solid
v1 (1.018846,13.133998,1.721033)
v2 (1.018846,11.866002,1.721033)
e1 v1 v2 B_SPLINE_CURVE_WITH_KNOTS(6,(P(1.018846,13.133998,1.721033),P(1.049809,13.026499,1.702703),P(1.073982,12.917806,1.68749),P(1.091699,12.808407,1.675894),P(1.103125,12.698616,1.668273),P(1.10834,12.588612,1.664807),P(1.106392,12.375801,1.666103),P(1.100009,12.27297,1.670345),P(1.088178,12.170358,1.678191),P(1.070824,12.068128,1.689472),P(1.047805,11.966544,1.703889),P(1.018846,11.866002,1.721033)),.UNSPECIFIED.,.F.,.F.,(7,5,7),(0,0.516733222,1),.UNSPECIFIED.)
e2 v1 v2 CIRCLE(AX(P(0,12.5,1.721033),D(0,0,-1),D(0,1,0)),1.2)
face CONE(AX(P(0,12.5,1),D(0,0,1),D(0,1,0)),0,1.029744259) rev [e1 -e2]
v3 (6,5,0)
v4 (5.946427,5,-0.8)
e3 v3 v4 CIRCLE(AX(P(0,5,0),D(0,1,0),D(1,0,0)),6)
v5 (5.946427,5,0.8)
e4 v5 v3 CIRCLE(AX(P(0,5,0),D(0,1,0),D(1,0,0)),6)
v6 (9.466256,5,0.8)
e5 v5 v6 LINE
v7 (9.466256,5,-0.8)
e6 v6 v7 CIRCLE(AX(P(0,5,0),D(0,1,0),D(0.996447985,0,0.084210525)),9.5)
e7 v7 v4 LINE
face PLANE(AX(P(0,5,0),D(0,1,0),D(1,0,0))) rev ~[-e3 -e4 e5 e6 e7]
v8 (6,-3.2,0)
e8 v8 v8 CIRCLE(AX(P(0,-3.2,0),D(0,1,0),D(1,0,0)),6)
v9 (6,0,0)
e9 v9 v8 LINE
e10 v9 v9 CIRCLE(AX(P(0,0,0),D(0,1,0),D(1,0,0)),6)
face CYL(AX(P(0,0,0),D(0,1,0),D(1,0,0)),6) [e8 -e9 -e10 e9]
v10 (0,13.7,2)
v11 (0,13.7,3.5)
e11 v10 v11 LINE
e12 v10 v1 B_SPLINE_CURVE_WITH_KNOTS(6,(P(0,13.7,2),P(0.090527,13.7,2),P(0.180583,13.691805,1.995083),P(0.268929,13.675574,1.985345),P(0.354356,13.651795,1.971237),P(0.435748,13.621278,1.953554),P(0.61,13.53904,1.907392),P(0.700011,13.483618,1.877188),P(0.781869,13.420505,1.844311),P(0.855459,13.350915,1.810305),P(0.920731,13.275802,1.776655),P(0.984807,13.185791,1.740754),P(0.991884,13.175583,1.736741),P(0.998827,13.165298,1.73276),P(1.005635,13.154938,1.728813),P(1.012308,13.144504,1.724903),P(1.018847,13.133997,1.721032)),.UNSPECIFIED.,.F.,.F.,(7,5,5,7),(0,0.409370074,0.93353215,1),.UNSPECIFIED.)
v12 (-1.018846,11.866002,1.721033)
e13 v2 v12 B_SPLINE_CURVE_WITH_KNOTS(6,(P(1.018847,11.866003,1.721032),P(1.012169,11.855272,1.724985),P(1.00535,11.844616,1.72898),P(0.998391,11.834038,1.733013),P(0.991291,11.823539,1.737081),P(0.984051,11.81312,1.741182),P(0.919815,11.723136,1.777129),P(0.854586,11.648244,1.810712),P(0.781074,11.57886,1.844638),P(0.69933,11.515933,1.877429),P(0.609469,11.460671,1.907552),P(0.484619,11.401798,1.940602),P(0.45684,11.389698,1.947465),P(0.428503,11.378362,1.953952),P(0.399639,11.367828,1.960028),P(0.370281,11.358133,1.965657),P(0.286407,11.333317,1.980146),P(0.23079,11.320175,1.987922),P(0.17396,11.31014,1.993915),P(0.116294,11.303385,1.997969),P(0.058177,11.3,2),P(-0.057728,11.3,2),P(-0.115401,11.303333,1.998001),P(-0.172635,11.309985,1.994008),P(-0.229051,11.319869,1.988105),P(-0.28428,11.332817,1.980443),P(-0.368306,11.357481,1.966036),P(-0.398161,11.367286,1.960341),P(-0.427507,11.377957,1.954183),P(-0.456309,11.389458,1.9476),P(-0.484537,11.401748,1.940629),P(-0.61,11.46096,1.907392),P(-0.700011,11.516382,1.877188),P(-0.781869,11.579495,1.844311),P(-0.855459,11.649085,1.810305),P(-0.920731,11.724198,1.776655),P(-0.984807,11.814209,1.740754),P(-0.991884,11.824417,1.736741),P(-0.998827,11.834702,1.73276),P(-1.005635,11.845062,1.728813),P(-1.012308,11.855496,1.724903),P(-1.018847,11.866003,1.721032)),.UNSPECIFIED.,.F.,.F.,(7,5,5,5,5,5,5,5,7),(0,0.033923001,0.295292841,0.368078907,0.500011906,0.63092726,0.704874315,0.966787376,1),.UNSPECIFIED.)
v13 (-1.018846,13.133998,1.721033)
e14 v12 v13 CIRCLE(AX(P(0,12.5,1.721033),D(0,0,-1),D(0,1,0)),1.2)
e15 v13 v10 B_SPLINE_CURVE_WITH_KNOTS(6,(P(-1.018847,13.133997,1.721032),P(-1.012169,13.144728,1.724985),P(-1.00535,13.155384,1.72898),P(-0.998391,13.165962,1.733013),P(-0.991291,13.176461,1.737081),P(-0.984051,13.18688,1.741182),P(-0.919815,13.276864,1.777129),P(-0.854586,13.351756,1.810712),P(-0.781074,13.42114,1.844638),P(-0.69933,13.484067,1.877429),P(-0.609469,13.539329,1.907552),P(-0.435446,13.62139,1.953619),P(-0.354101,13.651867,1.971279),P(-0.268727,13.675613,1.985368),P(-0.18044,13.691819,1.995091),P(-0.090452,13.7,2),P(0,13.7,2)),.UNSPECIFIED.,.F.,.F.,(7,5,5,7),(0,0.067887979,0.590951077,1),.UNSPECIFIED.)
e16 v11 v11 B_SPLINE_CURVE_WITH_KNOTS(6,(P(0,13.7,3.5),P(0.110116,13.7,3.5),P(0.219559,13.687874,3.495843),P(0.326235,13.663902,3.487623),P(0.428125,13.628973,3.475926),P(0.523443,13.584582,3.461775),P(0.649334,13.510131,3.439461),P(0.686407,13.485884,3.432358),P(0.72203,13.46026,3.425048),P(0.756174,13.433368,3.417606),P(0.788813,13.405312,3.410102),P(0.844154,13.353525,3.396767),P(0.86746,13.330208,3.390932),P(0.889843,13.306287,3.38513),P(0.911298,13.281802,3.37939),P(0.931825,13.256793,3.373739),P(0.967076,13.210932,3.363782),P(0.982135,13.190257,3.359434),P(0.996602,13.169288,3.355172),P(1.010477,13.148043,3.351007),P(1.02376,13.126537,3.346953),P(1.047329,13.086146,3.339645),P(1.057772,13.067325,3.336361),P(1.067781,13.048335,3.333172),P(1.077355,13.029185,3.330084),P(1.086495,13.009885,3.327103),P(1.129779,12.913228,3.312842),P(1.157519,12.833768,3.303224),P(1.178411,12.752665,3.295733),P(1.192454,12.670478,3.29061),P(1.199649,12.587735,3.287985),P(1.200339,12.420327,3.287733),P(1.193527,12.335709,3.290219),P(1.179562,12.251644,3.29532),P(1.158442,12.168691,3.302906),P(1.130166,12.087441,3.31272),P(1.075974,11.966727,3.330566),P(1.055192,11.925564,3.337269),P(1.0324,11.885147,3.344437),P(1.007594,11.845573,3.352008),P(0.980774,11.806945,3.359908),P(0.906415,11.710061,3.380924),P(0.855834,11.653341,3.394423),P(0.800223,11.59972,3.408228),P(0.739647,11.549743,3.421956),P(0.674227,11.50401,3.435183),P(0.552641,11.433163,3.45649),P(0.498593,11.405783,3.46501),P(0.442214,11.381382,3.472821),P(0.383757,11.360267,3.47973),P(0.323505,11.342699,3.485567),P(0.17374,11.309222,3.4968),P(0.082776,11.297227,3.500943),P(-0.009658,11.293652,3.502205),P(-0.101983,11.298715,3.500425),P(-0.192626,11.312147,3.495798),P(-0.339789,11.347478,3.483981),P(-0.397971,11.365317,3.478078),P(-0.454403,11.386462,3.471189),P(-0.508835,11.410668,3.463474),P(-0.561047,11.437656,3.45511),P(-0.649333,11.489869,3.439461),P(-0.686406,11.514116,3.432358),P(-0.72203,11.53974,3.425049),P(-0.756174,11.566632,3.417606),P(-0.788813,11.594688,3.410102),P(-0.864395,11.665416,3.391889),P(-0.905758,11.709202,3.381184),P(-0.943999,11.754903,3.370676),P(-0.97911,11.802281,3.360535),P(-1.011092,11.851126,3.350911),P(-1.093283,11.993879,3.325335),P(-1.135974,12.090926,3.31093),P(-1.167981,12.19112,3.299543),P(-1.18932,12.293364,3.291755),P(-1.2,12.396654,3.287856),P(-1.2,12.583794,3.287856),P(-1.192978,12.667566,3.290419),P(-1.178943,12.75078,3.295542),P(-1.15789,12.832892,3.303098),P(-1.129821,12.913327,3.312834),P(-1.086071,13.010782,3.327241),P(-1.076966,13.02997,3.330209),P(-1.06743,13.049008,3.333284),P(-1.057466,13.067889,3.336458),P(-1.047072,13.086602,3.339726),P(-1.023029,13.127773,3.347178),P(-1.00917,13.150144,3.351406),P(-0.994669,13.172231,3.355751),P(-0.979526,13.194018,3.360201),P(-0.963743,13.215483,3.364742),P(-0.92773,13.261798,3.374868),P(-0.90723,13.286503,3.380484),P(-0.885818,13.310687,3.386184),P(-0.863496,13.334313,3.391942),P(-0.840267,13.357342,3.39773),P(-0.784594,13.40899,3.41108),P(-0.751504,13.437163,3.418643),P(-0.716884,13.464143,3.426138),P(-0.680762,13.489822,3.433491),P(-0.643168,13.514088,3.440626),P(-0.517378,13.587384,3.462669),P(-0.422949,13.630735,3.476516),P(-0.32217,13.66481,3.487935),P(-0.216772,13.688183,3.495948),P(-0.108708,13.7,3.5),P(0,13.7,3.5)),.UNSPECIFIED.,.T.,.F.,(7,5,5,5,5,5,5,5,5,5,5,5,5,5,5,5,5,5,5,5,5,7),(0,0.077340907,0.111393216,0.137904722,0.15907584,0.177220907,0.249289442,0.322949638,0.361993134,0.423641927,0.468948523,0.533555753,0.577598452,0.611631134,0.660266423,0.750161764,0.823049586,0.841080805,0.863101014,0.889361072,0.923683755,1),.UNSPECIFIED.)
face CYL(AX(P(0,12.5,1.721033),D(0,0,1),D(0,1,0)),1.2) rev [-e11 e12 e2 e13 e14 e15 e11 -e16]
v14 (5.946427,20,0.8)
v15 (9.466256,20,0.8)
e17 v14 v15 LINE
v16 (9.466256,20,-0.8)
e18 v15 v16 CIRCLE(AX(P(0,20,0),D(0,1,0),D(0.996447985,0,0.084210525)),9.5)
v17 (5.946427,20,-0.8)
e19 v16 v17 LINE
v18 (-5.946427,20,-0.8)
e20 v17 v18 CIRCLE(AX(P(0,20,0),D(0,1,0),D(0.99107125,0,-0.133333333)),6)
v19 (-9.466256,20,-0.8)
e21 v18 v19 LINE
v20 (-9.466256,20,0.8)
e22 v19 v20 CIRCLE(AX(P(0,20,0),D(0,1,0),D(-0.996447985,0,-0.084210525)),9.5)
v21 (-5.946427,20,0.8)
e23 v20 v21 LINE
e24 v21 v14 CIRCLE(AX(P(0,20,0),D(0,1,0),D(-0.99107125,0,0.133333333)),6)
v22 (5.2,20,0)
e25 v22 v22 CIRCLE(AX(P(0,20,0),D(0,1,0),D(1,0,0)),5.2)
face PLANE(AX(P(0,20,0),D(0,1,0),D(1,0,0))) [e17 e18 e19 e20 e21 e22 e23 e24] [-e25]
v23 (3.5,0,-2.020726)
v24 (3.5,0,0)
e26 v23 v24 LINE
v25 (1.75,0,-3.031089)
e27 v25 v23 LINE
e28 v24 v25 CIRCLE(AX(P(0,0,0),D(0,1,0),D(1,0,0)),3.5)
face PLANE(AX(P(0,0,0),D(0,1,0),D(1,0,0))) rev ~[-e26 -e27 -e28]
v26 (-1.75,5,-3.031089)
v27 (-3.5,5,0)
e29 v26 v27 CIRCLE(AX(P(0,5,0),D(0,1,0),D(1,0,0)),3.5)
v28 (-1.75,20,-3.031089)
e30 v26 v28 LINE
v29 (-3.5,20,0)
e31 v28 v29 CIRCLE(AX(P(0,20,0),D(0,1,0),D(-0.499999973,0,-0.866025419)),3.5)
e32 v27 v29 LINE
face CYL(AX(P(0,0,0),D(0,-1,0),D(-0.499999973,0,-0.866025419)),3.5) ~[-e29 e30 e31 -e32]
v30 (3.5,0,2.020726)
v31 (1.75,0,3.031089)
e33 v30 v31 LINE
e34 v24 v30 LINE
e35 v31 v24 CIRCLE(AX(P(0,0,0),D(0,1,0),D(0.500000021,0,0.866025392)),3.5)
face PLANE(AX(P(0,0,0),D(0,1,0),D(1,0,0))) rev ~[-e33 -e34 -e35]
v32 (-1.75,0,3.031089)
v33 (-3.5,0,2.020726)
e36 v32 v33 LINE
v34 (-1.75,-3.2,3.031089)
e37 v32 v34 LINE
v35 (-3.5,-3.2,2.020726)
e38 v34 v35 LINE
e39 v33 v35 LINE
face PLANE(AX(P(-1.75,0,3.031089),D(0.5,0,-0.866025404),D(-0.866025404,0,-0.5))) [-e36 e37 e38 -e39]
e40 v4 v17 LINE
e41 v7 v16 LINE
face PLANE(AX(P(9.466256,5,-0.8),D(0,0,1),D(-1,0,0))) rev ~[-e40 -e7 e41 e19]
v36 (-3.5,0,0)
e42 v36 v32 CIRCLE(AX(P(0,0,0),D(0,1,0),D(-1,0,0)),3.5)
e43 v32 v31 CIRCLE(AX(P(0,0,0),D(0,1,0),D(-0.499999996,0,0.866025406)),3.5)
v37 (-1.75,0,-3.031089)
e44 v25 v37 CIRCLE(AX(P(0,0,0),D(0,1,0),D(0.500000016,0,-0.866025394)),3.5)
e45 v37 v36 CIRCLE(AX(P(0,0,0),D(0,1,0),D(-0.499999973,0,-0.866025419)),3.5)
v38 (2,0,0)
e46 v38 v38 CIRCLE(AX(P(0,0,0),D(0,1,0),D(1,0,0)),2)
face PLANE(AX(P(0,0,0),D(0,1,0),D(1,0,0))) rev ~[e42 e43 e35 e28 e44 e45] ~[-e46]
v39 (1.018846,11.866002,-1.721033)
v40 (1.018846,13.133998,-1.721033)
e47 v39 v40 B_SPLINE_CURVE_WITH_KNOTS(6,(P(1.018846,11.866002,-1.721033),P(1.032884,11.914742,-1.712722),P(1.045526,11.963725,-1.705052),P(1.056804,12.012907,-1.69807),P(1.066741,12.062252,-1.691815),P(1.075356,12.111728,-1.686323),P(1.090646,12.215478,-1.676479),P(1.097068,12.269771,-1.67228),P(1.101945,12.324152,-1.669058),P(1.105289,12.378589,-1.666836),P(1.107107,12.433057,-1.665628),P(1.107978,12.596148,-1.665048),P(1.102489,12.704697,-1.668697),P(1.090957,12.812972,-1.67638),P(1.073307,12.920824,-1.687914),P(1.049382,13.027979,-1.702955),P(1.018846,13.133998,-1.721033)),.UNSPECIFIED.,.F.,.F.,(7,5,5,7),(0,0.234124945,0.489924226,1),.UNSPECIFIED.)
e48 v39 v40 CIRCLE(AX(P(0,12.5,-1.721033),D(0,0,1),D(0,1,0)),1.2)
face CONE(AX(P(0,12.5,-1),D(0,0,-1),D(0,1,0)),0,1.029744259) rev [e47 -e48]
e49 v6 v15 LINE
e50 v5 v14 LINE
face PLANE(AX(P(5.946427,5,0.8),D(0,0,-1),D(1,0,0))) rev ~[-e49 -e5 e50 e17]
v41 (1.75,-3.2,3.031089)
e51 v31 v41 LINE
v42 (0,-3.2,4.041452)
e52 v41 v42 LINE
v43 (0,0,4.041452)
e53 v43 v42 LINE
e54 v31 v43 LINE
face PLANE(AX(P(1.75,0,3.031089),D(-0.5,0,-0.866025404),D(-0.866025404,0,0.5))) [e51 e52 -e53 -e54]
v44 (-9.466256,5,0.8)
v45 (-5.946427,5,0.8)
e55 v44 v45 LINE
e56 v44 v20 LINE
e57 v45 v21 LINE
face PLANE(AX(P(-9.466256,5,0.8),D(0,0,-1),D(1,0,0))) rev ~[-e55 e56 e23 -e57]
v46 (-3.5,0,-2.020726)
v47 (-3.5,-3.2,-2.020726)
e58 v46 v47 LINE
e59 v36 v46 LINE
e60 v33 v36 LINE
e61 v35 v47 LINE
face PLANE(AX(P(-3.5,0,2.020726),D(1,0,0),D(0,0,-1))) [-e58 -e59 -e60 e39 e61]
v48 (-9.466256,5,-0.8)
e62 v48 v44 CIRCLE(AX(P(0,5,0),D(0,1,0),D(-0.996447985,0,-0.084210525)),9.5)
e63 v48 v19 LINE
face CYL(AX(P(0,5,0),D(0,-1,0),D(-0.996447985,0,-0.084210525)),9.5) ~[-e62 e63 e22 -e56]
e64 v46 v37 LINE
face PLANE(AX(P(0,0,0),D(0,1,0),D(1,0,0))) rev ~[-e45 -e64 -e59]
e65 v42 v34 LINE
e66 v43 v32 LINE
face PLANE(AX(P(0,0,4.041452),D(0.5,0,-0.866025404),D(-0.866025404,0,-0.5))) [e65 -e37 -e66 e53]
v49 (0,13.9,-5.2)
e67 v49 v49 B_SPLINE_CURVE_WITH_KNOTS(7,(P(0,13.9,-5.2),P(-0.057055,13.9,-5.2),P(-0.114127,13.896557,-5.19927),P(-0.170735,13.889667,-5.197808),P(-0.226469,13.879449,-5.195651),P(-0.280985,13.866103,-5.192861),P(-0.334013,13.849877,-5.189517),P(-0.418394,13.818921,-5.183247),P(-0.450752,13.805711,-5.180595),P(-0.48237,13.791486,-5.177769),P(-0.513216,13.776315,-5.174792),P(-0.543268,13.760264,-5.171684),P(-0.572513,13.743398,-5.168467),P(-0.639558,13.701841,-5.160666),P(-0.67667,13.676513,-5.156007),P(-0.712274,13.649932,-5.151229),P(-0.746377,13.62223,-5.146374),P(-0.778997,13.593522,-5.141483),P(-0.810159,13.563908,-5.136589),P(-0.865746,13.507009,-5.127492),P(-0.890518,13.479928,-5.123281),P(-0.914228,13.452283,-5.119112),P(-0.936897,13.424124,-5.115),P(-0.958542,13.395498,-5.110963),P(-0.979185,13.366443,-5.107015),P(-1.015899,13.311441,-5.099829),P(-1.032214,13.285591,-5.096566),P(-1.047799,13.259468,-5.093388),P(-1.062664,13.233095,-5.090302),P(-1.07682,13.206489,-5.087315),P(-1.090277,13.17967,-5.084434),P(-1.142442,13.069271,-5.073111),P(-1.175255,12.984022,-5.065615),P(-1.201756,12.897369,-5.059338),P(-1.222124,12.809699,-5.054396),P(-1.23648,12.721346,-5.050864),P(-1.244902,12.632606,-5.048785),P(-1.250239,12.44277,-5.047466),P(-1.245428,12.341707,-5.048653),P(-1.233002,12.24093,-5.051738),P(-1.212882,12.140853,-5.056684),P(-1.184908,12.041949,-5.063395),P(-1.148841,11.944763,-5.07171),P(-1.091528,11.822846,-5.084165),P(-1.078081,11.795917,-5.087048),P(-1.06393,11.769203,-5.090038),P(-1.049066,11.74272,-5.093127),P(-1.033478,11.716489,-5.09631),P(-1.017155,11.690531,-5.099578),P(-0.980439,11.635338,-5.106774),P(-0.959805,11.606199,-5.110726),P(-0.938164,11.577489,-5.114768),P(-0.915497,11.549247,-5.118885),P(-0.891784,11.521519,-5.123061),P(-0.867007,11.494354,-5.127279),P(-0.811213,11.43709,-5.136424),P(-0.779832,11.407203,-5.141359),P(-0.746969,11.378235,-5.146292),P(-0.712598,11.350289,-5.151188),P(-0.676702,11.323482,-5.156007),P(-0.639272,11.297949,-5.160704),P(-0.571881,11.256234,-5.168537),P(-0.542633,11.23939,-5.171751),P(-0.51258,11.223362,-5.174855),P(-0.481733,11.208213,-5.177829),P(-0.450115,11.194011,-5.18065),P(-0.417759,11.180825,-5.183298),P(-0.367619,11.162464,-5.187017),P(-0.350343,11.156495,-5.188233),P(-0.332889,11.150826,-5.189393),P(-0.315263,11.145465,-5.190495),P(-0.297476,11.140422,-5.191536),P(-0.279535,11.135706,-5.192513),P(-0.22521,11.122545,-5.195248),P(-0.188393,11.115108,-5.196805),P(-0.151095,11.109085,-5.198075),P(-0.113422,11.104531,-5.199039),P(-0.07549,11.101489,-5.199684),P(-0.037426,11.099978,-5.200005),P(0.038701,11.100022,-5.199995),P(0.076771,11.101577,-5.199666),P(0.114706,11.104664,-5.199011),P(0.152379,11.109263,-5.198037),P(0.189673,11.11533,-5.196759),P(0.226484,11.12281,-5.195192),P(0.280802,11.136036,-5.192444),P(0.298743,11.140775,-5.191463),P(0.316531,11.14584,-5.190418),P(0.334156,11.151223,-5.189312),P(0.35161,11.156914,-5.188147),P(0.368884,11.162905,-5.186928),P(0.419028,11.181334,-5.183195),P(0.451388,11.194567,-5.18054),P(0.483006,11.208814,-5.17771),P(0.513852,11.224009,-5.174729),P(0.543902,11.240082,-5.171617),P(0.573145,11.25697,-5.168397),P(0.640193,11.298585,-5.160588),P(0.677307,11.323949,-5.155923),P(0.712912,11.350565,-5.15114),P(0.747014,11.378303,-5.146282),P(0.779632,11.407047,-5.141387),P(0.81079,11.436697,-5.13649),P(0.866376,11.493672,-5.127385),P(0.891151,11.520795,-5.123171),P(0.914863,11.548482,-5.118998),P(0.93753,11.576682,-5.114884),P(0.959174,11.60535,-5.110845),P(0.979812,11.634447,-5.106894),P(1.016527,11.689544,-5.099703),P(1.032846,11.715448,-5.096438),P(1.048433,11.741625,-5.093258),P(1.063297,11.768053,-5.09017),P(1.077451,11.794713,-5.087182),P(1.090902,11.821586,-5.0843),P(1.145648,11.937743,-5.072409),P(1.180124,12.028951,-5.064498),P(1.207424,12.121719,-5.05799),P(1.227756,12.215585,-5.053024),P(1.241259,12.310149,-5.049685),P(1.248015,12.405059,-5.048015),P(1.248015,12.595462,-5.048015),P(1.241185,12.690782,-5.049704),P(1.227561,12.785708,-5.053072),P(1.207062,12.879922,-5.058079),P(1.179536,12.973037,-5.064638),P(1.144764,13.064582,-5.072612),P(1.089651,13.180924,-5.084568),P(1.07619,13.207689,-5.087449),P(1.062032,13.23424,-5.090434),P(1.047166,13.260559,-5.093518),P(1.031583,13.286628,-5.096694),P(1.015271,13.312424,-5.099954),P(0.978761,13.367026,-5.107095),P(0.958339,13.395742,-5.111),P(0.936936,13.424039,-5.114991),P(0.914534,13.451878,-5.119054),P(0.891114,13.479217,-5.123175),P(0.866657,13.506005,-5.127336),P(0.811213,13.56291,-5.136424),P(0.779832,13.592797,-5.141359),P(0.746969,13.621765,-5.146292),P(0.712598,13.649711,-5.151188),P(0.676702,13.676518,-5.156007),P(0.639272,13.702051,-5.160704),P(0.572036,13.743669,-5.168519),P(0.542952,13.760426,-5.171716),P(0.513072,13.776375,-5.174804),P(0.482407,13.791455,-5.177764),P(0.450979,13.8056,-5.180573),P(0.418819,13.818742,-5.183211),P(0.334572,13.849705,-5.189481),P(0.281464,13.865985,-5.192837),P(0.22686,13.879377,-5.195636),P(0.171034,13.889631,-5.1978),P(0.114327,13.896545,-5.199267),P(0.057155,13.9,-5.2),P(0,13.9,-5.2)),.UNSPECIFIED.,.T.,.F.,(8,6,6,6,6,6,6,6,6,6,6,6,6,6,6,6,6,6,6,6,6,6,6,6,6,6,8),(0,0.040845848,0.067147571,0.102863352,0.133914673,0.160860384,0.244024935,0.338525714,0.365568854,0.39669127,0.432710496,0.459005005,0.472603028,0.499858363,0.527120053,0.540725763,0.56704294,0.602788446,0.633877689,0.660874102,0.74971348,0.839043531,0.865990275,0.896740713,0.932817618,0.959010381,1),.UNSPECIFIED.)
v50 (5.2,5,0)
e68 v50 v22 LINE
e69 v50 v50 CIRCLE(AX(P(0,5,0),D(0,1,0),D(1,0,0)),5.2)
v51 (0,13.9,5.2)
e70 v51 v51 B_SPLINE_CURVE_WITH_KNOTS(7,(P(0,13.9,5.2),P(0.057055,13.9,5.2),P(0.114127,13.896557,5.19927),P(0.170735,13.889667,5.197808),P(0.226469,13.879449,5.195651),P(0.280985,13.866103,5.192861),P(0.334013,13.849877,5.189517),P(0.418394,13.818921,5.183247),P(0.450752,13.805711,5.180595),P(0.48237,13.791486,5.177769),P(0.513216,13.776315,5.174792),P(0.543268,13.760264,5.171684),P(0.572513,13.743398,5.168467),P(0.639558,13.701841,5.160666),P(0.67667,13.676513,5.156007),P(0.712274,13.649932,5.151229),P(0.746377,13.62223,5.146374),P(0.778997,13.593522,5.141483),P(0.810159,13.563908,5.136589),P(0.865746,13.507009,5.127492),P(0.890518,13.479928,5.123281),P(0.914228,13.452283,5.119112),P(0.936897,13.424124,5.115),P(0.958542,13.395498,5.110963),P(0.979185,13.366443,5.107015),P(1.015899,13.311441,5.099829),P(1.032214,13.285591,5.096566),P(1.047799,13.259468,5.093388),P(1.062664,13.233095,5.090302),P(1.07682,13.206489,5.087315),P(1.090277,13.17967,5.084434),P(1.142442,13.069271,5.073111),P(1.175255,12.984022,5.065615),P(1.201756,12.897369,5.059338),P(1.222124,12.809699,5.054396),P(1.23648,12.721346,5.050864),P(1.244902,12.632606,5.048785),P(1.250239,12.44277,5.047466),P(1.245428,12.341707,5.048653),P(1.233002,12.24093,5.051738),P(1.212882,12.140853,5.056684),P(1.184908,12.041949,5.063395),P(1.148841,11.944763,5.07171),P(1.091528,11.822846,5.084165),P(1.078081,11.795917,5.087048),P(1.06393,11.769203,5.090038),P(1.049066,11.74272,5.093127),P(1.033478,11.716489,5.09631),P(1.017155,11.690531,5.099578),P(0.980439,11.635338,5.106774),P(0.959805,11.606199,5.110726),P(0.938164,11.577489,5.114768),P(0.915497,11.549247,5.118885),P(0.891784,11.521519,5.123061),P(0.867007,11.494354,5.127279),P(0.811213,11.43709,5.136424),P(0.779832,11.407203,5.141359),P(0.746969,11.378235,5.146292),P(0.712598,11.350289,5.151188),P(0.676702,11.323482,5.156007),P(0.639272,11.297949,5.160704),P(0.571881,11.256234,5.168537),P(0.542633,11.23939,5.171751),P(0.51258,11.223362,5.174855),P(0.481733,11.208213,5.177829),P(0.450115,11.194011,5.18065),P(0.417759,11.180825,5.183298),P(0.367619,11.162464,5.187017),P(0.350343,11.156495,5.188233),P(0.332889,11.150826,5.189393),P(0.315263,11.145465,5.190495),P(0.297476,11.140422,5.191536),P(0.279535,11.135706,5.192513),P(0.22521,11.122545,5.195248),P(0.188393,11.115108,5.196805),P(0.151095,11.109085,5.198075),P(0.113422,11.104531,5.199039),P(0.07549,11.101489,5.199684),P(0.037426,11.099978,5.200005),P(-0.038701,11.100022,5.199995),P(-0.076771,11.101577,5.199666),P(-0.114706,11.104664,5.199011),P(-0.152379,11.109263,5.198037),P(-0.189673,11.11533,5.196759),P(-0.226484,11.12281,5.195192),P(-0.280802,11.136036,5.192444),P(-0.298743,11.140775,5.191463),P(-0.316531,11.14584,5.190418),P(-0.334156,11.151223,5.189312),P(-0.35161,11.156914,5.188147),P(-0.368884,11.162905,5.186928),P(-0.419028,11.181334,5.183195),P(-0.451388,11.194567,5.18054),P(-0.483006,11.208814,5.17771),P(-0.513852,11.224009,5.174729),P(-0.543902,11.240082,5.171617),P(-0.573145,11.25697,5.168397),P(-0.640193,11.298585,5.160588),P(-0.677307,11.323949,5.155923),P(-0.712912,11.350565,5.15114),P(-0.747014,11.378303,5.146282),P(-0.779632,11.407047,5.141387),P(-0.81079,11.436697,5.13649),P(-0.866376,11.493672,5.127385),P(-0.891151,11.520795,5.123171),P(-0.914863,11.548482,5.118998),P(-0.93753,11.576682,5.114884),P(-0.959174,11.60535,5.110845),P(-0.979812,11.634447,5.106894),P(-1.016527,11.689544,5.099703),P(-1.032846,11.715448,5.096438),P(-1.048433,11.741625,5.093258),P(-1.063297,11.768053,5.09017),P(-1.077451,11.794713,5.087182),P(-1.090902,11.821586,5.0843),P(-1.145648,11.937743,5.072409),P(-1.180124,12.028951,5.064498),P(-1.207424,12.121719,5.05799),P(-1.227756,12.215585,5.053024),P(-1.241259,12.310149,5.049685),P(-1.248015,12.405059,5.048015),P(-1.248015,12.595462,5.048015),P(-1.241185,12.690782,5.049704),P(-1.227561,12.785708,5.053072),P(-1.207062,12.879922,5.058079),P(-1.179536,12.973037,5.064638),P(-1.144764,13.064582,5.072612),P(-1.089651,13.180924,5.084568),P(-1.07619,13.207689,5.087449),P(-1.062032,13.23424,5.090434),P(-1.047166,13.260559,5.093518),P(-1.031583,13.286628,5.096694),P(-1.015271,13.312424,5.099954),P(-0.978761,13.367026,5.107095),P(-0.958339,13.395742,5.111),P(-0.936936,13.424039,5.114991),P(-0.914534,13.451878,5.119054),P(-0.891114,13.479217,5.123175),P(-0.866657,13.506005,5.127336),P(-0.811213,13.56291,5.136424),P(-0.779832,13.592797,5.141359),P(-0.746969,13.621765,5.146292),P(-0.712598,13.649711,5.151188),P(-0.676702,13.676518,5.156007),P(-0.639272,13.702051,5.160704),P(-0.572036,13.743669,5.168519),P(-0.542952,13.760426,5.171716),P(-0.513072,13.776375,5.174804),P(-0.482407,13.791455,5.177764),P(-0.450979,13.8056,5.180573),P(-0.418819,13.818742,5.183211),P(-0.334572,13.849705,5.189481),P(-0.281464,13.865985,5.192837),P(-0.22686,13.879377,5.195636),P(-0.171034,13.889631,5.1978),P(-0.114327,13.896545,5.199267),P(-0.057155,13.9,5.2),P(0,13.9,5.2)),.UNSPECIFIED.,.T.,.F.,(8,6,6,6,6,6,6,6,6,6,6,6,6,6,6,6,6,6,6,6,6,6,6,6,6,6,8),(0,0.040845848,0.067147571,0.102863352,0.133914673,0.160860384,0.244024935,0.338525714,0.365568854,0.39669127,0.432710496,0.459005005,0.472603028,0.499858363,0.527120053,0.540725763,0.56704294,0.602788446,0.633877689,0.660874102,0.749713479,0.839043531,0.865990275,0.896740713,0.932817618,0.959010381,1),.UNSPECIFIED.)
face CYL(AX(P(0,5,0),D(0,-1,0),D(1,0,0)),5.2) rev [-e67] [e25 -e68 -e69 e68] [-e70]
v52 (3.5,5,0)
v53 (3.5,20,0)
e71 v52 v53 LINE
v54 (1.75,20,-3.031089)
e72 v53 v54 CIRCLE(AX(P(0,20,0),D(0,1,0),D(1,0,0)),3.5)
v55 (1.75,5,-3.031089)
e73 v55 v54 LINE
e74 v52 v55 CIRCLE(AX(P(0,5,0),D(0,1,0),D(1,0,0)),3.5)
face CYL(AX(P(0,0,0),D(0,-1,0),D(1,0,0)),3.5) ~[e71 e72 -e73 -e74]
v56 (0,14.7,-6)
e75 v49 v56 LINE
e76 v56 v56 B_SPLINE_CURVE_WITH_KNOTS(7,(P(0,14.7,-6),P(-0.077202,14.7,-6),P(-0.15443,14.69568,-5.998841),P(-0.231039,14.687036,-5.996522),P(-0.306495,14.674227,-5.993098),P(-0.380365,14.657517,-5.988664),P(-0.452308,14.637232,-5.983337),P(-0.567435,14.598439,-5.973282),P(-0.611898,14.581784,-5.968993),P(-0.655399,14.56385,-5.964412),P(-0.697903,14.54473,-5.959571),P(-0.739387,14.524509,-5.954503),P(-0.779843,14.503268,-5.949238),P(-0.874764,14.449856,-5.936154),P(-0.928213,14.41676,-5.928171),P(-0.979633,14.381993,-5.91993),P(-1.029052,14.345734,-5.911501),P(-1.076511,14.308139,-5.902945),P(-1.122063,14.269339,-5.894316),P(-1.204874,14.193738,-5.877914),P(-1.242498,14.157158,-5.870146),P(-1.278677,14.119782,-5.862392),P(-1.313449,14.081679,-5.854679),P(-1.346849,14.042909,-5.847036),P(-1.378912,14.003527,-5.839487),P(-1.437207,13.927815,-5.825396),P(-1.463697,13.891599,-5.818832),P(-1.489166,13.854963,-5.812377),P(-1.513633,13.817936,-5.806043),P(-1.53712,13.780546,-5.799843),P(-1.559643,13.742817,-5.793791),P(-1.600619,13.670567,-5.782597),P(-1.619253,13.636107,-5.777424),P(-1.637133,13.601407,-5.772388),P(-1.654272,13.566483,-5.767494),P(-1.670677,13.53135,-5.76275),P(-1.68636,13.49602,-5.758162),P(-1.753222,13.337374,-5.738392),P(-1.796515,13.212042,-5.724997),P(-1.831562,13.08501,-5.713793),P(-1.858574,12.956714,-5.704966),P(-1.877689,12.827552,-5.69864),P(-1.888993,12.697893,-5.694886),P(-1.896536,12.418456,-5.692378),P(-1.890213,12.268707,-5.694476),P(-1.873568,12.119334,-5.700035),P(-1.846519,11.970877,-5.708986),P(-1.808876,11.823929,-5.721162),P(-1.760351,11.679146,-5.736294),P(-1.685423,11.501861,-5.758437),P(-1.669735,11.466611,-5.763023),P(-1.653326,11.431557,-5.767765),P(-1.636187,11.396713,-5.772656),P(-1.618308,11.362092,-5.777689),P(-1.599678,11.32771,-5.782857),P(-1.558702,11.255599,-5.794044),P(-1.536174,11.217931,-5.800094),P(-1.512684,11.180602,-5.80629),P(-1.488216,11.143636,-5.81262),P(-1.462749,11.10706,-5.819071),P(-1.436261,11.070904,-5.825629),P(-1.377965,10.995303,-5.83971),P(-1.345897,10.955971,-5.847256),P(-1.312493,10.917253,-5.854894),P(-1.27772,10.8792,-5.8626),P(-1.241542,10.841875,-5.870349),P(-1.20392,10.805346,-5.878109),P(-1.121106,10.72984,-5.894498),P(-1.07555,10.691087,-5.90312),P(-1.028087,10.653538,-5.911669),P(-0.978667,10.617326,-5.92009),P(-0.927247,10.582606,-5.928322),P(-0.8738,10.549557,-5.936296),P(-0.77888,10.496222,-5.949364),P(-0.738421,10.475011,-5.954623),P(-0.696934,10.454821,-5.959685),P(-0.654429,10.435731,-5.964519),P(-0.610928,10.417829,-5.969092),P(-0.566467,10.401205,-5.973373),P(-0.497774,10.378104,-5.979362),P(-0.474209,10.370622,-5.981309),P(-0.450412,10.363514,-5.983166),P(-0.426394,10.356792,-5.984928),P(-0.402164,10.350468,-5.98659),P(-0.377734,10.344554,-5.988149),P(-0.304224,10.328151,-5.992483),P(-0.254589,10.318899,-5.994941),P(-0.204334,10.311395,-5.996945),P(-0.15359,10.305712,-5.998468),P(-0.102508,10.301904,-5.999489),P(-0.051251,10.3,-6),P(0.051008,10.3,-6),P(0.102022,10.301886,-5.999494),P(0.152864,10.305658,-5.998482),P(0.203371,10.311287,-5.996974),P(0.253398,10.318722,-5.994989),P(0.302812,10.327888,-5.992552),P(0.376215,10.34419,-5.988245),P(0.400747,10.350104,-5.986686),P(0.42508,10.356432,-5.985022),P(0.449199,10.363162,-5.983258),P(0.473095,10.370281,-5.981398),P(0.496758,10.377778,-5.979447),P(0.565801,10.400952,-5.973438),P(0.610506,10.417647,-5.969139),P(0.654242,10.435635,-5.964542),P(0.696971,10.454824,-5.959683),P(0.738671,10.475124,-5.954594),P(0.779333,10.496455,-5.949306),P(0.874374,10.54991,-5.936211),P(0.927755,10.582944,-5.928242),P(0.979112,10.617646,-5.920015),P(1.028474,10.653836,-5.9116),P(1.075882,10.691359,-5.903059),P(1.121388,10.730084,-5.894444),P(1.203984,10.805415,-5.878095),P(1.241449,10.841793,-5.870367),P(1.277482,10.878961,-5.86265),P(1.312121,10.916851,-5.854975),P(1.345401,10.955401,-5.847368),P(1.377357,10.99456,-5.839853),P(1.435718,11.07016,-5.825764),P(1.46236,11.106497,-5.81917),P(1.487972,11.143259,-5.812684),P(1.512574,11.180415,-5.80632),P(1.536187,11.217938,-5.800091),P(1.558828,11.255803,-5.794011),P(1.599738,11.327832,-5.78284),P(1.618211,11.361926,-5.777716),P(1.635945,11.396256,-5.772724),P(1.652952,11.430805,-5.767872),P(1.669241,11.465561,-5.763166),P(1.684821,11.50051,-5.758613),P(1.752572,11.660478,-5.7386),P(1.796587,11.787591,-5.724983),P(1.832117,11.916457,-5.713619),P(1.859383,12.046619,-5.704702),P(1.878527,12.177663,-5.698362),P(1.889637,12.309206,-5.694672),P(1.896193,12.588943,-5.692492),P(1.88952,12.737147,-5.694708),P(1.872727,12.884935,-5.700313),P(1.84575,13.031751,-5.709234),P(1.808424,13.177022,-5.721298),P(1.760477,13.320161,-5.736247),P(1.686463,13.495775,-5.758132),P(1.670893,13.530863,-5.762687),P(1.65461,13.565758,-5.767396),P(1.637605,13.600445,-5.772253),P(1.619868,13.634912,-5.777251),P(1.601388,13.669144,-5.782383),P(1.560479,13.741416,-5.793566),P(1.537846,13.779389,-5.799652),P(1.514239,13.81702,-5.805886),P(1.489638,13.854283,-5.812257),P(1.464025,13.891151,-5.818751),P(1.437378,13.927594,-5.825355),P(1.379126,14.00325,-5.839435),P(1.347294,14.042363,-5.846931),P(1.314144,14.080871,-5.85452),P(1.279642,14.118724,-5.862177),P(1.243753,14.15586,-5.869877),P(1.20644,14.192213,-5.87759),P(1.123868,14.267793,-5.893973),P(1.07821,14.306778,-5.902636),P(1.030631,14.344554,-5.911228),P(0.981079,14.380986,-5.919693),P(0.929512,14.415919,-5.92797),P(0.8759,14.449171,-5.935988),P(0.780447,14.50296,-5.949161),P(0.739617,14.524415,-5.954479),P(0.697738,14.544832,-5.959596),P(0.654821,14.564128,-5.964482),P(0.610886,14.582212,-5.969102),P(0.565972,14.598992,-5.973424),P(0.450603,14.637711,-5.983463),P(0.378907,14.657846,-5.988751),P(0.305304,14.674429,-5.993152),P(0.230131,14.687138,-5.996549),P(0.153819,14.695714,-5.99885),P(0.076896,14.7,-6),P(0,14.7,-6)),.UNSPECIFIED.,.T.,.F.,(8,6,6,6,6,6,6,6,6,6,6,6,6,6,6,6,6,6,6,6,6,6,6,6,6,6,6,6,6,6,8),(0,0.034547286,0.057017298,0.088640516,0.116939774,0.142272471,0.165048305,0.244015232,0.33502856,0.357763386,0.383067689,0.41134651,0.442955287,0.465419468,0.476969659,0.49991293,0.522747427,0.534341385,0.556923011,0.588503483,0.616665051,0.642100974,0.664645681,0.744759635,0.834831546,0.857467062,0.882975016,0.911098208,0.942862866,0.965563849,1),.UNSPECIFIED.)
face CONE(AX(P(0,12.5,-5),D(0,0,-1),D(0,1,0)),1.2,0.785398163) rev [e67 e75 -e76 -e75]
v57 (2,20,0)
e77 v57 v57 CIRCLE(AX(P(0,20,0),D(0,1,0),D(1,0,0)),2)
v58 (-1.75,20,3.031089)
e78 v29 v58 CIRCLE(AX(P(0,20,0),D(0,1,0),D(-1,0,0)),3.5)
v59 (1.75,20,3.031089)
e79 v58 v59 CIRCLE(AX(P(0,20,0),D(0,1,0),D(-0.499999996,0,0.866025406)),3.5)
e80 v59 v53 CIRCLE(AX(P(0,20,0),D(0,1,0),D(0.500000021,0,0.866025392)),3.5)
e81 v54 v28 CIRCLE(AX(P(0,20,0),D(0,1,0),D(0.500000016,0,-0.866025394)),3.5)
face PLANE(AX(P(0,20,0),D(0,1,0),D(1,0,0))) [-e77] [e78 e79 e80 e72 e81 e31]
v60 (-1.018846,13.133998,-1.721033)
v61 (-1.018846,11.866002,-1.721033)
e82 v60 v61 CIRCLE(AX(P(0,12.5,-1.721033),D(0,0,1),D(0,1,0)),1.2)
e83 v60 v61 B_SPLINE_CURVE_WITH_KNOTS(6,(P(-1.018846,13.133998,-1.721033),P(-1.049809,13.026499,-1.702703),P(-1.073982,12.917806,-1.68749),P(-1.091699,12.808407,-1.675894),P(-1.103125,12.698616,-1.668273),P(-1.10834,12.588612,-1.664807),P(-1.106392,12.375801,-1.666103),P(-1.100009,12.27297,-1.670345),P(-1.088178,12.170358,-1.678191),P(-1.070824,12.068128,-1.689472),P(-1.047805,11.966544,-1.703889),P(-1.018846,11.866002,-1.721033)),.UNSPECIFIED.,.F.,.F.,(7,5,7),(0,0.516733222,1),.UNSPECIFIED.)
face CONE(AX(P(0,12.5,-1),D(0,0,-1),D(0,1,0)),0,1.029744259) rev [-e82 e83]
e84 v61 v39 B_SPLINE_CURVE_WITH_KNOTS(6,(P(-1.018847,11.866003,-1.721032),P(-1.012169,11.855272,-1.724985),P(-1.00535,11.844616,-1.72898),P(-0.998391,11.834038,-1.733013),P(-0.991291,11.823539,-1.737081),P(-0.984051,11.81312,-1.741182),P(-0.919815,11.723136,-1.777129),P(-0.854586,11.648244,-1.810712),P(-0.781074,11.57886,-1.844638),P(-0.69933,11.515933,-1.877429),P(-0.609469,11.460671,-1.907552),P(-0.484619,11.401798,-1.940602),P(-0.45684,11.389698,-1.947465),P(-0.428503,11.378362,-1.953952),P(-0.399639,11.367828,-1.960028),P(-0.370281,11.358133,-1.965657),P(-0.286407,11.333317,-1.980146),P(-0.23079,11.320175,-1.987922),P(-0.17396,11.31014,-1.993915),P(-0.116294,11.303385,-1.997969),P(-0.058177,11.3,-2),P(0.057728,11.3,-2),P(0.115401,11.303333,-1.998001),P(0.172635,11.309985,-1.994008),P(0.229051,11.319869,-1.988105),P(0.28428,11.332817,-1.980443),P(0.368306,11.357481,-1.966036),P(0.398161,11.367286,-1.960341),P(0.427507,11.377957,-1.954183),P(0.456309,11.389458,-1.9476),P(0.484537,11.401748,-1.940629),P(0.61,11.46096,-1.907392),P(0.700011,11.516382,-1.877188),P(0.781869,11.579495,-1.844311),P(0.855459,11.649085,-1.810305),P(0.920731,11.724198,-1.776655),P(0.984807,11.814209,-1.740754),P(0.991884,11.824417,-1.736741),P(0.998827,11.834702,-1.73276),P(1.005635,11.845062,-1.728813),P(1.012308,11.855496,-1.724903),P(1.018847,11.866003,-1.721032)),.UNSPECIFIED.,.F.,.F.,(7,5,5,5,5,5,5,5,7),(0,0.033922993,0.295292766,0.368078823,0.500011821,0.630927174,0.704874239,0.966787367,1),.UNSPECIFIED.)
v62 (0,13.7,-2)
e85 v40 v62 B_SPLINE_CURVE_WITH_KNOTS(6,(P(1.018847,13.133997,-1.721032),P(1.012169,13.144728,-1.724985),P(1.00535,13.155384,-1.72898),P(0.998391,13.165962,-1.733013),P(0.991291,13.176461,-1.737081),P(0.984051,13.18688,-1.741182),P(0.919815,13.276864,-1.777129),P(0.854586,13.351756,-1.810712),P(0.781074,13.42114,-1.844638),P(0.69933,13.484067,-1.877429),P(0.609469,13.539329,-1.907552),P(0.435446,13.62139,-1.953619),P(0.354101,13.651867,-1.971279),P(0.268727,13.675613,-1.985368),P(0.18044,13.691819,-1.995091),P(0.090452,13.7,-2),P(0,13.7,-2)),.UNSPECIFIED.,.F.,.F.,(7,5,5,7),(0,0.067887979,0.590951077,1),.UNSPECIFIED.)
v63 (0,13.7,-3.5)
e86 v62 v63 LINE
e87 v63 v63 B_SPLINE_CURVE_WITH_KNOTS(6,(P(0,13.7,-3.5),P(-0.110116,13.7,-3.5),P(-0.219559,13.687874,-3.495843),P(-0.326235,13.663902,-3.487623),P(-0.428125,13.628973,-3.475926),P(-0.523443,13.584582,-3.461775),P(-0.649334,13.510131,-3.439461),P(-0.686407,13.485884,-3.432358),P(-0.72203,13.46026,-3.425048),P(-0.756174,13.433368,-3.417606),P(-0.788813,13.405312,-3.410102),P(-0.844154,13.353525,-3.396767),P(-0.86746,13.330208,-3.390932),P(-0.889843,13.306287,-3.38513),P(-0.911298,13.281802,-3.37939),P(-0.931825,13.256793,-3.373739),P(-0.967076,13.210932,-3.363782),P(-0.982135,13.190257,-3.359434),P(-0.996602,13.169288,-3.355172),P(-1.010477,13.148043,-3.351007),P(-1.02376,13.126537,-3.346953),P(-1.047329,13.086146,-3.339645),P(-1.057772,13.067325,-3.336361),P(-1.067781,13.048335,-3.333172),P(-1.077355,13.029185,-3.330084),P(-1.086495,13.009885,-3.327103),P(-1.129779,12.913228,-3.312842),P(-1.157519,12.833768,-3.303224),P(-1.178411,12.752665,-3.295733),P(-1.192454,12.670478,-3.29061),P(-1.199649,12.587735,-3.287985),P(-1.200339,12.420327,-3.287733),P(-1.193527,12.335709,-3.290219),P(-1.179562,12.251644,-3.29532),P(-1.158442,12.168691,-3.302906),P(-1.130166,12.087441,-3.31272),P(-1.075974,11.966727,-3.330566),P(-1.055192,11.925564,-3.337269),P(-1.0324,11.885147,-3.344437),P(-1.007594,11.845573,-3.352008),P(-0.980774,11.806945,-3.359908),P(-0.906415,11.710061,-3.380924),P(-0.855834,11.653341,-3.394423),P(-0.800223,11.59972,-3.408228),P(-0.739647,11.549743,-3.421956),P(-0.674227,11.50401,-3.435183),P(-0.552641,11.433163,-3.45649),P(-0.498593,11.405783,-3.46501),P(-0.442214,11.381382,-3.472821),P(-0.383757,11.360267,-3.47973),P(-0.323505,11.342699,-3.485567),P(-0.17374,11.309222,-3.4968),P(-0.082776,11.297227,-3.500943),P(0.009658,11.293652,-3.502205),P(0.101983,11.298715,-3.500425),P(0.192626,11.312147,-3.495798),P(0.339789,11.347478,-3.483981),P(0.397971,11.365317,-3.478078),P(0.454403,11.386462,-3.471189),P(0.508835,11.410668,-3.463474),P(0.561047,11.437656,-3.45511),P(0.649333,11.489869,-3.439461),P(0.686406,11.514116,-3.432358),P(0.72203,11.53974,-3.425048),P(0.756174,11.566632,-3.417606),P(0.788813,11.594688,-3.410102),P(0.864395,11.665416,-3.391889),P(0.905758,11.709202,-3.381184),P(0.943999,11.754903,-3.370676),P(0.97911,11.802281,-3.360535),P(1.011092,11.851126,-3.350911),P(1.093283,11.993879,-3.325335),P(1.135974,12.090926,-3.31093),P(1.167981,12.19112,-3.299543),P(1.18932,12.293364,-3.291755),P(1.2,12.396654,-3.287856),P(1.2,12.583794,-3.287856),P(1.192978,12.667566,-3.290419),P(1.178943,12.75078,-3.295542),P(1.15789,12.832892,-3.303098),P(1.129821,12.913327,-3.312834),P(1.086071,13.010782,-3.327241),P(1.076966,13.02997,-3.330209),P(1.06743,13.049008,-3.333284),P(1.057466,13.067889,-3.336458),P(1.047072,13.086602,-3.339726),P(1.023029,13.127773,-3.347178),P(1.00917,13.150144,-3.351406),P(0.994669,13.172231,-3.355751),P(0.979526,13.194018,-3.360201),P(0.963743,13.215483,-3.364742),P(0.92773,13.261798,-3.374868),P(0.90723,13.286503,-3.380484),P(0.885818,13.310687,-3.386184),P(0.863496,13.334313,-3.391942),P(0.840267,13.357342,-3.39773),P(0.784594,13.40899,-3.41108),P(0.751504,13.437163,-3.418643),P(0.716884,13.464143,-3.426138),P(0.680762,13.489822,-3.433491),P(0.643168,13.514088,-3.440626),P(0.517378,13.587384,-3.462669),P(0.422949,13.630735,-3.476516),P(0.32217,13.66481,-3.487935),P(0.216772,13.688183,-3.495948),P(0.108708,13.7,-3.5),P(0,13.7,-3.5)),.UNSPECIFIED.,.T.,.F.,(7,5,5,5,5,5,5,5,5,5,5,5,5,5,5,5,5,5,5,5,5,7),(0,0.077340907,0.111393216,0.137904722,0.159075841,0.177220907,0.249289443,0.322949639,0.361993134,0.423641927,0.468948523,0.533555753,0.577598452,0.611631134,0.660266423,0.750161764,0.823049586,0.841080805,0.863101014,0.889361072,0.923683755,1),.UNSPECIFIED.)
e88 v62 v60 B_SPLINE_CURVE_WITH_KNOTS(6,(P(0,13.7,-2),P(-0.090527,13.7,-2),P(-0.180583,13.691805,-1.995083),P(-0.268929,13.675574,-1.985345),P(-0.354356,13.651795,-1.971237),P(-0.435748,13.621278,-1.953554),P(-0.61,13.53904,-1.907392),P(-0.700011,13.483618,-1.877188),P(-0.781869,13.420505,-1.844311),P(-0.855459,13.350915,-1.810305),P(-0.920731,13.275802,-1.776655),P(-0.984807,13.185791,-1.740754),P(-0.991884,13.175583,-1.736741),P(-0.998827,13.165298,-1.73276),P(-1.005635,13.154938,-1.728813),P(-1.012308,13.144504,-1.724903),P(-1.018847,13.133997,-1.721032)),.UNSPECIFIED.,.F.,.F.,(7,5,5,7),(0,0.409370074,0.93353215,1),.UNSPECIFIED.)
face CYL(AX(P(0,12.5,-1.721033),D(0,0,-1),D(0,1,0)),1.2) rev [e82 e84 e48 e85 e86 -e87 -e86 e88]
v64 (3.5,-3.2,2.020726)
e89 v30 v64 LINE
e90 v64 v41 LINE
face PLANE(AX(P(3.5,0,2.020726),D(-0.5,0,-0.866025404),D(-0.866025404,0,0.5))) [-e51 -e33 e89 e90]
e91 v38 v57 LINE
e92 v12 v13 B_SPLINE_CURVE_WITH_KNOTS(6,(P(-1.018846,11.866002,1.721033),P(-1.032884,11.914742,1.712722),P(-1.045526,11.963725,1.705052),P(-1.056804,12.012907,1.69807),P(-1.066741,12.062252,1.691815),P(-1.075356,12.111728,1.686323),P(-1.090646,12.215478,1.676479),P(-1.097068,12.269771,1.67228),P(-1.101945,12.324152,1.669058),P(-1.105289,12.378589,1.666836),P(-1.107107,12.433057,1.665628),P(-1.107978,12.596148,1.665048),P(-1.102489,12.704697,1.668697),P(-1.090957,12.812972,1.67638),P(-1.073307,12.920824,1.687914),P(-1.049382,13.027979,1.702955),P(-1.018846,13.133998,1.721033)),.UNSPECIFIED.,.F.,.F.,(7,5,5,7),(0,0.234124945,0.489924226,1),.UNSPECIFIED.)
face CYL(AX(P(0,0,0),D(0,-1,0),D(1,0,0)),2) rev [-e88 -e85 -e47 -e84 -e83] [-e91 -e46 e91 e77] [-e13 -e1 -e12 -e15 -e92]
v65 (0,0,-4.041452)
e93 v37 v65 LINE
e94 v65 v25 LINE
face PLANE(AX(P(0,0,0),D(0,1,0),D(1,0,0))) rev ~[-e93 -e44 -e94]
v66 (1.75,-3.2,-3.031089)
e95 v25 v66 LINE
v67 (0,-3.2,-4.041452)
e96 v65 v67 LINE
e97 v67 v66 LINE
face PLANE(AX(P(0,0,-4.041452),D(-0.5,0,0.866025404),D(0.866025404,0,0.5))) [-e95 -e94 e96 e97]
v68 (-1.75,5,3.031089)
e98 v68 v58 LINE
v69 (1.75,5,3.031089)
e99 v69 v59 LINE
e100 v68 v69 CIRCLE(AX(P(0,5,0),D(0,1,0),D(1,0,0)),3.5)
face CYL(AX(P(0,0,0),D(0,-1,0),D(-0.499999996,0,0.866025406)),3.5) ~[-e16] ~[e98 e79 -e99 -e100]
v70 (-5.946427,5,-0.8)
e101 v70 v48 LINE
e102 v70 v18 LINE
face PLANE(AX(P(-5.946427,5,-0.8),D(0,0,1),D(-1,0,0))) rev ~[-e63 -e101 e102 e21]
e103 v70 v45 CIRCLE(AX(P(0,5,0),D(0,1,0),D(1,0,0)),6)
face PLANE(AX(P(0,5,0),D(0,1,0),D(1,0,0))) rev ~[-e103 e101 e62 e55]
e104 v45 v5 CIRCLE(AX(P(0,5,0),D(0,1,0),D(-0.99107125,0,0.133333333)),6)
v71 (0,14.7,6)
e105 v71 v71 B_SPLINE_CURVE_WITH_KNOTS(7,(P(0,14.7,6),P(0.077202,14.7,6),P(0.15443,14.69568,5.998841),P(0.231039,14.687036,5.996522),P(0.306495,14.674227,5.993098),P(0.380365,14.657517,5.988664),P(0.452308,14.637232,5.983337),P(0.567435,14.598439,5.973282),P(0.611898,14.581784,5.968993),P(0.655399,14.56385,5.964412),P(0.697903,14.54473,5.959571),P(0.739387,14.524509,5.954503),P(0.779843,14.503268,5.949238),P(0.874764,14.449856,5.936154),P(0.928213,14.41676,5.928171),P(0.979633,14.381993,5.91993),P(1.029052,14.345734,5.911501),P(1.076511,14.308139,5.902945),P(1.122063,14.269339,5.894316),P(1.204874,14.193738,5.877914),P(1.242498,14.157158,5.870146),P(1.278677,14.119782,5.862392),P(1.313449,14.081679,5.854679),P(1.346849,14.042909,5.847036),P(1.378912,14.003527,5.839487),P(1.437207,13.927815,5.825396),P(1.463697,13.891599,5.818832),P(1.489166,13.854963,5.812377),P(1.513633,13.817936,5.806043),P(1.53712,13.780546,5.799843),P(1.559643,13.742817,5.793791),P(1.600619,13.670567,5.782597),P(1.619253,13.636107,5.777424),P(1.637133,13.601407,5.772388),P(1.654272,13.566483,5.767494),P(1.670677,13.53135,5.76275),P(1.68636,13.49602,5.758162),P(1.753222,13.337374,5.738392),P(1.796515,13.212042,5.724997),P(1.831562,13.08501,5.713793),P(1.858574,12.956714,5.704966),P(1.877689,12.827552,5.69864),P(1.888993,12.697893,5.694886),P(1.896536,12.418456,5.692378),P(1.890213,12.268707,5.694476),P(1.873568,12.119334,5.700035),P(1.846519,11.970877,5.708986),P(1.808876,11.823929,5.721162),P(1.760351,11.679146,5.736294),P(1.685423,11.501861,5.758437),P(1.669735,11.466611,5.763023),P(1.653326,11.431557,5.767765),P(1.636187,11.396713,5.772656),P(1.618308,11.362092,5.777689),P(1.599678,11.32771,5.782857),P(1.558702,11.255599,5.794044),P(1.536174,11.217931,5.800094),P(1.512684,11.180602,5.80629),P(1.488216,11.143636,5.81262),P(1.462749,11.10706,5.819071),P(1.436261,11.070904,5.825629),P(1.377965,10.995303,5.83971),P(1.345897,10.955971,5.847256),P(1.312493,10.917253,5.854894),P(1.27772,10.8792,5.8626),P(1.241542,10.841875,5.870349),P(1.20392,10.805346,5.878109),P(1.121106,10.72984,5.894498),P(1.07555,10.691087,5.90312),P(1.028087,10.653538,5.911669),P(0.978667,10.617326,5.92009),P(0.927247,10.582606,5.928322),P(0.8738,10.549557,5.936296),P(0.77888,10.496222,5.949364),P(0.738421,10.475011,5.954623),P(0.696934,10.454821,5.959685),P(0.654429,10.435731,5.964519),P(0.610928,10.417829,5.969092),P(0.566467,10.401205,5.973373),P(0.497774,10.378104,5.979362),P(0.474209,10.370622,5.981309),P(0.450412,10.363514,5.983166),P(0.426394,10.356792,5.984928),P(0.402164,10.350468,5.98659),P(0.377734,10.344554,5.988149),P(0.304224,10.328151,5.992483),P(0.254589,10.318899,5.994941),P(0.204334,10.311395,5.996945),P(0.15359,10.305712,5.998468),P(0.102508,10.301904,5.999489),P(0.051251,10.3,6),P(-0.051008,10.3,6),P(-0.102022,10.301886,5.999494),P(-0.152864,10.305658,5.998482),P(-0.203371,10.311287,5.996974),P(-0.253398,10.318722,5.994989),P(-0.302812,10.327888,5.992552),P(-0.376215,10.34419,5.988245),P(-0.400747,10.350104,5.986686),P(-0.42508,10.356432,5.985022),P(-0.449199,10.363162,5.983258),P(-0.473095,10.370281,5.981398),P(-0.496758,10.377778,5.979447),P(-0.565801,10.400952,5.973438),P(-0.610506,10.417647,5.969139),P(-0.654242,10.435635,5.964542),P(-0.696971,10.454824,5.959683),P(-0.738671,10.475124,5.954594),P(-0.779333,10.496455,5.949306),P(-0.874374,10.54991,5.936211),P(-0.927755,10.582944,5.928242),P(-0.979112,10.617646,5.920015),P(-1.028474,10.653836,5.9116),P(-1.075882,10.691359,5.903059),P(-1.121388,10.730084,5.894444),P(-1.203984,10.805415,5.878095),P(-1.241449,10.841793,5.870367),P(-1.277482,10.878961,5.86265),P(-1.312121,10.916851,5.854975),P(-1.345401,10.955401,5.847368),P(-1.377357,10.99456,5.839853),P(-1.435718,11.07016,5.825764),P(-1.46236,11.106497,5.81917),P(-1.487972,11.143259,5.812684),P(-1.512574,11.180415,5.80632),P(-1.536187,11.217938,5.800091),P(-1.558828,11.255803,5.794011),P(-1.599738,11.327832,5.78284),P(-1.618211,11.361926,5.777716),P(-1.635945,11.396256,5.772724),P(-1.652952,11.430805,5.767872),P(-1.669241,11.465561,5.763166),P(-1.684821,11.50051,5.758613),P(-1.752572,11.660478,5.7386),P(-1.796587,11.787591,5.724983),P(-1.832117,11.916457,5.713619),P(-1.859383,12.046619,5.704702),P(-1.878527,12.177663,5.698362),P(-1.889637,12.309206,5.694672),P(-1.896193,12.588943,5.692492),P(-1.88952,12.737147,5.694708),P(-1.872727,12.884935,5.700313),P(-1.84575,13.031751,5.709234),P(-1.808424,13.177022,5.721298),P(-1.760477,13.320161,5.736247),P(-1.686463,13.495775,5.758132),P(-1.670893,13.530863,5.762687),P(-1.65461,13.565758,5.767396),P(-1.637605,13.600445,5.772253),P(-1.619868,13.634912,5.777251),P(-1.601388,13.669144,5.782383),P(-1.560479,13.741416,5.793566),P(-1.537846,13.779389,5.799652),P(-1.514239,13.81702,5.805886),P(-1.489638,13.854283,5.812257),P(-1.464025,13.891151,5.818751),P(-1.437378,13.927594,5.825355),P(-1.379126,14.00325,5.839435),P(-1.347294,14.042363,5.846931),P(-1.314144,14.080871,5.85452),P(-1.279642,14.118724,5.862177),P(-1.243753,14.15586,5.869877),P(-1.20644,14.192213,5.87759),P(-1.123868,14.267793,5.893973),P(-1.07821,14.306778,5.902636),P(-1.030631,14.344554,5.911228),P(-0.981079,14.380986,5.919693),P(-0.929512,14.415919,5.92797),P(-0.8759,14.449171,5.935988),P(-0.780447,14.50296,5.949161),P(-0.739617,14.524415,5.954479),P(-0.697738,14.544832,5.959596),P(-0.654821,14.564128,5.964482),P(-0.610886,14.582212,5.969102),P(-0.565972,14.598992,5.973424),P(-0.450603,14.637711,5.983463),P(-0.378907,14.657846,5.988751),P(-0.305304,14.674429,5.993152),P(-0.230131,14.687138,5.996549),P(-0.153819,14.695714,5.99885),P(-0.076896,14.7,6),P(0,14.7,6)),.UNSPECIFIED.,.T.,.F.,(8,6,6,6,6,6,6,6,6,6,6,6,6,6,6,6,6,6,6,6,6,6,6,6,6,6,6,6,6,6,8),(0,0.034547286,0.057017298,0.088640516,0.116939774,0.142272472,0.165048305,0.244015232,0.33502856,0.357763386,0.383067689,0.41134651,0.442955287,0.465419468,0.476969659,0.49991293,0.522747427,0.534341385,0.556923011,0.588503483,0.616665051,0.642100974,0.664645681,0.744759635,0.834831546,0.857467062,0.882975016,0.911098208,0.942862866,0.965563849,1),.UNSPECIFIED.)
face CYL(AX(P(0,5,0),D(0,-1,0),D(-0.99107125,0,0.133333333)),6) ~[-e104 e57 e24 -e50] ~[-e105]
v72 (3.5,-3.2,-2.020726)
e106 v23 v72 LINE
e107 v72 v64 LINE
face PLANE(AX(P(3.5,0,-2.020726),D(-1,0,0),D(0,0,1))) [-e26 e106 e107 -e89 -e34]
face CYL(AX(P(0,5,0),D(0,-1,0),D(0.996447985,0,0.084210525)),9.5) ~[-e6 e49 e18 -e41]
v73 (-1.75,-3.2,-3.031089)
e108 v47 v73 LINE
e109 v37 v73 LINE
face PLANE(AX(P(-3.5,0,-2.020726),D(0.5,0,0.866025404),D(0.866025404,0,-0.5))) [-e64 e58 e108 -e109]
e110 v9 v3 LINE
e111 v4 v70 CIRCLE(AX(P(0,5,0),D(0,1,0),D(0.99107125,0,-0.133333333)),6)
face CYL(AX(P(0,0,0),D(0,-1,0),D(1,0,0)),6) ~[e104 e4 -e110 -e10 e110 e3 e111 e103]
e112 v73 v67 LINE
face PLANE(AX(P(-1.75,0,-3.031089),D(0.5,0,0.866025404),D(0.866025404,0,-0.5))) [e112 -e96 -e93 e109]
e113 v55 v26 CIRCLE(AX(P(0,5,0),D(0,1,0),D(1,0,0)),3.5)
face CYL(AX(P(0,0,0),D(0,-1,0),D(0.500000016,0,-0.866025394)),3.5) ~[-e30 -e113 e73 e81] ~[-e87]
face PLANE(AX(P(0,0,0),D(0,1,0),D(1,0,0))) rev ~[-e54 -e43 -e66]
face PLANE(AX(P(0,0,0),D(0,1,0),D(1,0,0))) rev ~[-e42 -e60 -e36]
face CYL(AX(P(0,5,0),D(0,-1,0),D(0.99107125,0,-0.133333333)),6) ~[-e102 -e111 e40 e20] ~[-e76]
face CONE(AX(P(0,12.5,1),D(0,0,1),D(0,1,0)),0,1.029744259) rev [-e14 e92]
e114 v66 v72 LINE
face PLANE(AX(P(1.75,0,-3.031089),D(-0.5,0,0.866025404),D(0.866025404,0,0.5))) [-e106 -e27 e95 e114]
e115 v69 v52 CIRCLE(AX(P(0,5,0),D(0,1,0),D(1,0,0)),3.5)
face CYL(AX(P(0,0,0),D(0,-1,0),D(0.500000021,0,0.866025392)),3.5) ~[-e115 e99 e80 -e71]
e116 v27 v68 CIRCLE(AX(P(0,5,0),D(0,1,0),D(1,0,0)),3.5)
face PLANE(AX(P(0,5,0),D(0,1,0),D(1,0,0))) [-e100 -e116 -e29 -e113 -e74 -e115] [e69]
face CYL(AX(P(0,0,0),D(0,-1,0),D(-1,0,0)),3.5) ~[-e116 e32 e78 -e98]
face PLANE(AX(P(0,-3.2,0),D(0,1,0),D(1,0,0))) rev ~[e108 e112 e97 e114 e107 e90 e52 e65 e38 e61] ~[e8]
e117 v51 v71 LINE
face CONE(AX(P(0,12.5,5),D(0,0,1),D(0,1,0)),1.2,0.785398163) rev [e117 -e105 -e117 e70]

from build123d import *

# Parameters (mm, degrees)
SKETCH1_R           = 2
BOSS_EXTRUDE1_DEPTH = 20
SKETCH1_3_R         = 6
BOSS_EXTRUDE2_DEPTH = 3.2
SKETCH1_4_R         = 6
SKETCH1_4_R_2       = 3.5
BOSS_EXTRUDE3_DEPTH = 5
SKETCH2_R           = 5.2
BOSS_EXTRUDE4_DEPTH = 15
CIRPATTERN1_COUNT   = 2


with BuildPart() as part:
    # Sketch1 → Boss-Extrude1 (new body)
    with BuildSketch(Plane(origin=(0, 0, 0), x_dir=(1, 0, 0), z_dir=(0, 1, 0))):
        with BuildLine():
            ThreePointArc((1.750000074, -3.03108887), (3.031088935, -1.749999963), (3.5, 0))
            ThreePointArc((3.5, 0), (3.03108893, 1.749999971), (1.750000057, 3.03108888))
            ThreePointArc((1.750000057, 3.03108888), (8.8e-08, 3.5), (-1.749999906, 3.031088968))
            ThreePointArc((-1.749999906, 3.031088968), (-3.031088886, 1.750000047), (-3.5, 0))
            ThreePointArc((-3.5, 0), (-3.031088909, -1.750000007), (-1.749999986, -3.031088921))
            ThreePointArc((-1.749999986, -3.031088921), (5.1e-08, -3.5), (1.750000074, -3.03108887))
        make_face()
        Circle(SKETCH1_R, mode=Mode.SUBTRACT)
    extrude(amount=BOSS_EXTRUDE1_DEPTH)



with BuildPart() as body_2:
    # Sketch1<3> → Boss-Extrude2 (new body)
    with BuildSketch(Plane(origin=(0, 0, 0), x_dir=(1, 0, 0), z_dir=(0, 1, 0))):
        Circle(SKETCH1_3_R)
        Polygon((3.5, 0), (3.5, -2.020725942), (1.750000074, -3.03108887), (0, -4.041451884), (-1.749999986, -3.031088921), (-3.5, -2.020725942), (-3.5, 0), (-3.5, 2.020725942), (-1.749999906, 3.031088968), (0, 4.041451884), (1.750000057, 3.03108888), (3.5, 2.020725942), align=None, mode=Mode.SUBTRACT)
    extrude(amount=-BOSS_EXTRUDE2_DEPTH)


with BuildPart() as part_1:
    add(part.part)

    add(body_2.part)  # Boss-Extrude3 merges body 2
    # Sketch1<4> → Boss-Extrude3 (add)
    with BuildSketch(Plane(origin=(0, 0, 0), x_dir=(1, 0, 0), z_dir=(0, 1, 0))):
        Circle(SKETCH1_4_R)
        Circle(SKETCH1_4_R_2, mode=Mode.SUBTRACT)
    extrude(amount=BOSS_EXTRUDE3_DEPTH)

    # Sketch2 → Boss-Extrude4 (add)
    with BuildSketch(Plane(origin=(0, 5, 0), x_dir=(1, 0, 0), z_dir=(0, 1, 0))):
        with BuildLine():
            Line((-9.46625586, -0.8), (-5.946427499, -0.8))
            ThreePointArc((-5.946427499, -0.8), (0, -6), (5.946427499, -0.8))
            Line((5.946427499, -0.8), (9.46625586, -0.8))
            ThreePointArc((9.46625586, -0.8), (9.5, 0), (9.46625586, 0.8))
            Line((9.46625586, 0.8), (5.946427499, 0.8))
            ThreePointArc((5.946427499, 0.8), (0, 6), (-5.946427499, 0.8))
            Line((-5.946427499, 0.8), (-9.46625586, 0.8))
            ThreePointArc((-9.46625586, 0.8), (-9.5, 0), (-9.46625586, -0.8))
        make_face()
        Circle(SKETCH2_R, mode=Mode.SUBTRACT)
    extrude(amount=BOSS_EXTRUDE4_DEPTH)

    # Sketch5 → CSK for M2 Flat Head Machine Screw1 (revolve, cut)
    with BuildSketch(Plane(origin=(0, 12.5, -6), x_dir=(0, 1, 0), z_dir=(1, 0, 0))):
        Polygon((0, 0), (0, 5), (1.2, 4.278967257), (1.2, 1), (2.2, 0), align=None)
    csk_for_m2_flat_head_machine_screw1 = revolve(axis=Axis((0, 12.5, -12.35), (0, 0, 1)), mode=Mode.SUBTRACT)

    # CirPattern1: CSK for M2 Flat Head Machine Screw1 ×2 about axis
    cirpattern1_axis = Axis((0, 5, 0), (0, -1, 0))
    for i in range(1, CIRPATTERN1_COUNT):
        add(csk_for_m2_flat_head_machine_screw1.rotate(cirpattern1_axis, i * 360 / CIRPATTERN1_COUNT), mode=Mode.SUBTRACT)


solid = part_1.part
